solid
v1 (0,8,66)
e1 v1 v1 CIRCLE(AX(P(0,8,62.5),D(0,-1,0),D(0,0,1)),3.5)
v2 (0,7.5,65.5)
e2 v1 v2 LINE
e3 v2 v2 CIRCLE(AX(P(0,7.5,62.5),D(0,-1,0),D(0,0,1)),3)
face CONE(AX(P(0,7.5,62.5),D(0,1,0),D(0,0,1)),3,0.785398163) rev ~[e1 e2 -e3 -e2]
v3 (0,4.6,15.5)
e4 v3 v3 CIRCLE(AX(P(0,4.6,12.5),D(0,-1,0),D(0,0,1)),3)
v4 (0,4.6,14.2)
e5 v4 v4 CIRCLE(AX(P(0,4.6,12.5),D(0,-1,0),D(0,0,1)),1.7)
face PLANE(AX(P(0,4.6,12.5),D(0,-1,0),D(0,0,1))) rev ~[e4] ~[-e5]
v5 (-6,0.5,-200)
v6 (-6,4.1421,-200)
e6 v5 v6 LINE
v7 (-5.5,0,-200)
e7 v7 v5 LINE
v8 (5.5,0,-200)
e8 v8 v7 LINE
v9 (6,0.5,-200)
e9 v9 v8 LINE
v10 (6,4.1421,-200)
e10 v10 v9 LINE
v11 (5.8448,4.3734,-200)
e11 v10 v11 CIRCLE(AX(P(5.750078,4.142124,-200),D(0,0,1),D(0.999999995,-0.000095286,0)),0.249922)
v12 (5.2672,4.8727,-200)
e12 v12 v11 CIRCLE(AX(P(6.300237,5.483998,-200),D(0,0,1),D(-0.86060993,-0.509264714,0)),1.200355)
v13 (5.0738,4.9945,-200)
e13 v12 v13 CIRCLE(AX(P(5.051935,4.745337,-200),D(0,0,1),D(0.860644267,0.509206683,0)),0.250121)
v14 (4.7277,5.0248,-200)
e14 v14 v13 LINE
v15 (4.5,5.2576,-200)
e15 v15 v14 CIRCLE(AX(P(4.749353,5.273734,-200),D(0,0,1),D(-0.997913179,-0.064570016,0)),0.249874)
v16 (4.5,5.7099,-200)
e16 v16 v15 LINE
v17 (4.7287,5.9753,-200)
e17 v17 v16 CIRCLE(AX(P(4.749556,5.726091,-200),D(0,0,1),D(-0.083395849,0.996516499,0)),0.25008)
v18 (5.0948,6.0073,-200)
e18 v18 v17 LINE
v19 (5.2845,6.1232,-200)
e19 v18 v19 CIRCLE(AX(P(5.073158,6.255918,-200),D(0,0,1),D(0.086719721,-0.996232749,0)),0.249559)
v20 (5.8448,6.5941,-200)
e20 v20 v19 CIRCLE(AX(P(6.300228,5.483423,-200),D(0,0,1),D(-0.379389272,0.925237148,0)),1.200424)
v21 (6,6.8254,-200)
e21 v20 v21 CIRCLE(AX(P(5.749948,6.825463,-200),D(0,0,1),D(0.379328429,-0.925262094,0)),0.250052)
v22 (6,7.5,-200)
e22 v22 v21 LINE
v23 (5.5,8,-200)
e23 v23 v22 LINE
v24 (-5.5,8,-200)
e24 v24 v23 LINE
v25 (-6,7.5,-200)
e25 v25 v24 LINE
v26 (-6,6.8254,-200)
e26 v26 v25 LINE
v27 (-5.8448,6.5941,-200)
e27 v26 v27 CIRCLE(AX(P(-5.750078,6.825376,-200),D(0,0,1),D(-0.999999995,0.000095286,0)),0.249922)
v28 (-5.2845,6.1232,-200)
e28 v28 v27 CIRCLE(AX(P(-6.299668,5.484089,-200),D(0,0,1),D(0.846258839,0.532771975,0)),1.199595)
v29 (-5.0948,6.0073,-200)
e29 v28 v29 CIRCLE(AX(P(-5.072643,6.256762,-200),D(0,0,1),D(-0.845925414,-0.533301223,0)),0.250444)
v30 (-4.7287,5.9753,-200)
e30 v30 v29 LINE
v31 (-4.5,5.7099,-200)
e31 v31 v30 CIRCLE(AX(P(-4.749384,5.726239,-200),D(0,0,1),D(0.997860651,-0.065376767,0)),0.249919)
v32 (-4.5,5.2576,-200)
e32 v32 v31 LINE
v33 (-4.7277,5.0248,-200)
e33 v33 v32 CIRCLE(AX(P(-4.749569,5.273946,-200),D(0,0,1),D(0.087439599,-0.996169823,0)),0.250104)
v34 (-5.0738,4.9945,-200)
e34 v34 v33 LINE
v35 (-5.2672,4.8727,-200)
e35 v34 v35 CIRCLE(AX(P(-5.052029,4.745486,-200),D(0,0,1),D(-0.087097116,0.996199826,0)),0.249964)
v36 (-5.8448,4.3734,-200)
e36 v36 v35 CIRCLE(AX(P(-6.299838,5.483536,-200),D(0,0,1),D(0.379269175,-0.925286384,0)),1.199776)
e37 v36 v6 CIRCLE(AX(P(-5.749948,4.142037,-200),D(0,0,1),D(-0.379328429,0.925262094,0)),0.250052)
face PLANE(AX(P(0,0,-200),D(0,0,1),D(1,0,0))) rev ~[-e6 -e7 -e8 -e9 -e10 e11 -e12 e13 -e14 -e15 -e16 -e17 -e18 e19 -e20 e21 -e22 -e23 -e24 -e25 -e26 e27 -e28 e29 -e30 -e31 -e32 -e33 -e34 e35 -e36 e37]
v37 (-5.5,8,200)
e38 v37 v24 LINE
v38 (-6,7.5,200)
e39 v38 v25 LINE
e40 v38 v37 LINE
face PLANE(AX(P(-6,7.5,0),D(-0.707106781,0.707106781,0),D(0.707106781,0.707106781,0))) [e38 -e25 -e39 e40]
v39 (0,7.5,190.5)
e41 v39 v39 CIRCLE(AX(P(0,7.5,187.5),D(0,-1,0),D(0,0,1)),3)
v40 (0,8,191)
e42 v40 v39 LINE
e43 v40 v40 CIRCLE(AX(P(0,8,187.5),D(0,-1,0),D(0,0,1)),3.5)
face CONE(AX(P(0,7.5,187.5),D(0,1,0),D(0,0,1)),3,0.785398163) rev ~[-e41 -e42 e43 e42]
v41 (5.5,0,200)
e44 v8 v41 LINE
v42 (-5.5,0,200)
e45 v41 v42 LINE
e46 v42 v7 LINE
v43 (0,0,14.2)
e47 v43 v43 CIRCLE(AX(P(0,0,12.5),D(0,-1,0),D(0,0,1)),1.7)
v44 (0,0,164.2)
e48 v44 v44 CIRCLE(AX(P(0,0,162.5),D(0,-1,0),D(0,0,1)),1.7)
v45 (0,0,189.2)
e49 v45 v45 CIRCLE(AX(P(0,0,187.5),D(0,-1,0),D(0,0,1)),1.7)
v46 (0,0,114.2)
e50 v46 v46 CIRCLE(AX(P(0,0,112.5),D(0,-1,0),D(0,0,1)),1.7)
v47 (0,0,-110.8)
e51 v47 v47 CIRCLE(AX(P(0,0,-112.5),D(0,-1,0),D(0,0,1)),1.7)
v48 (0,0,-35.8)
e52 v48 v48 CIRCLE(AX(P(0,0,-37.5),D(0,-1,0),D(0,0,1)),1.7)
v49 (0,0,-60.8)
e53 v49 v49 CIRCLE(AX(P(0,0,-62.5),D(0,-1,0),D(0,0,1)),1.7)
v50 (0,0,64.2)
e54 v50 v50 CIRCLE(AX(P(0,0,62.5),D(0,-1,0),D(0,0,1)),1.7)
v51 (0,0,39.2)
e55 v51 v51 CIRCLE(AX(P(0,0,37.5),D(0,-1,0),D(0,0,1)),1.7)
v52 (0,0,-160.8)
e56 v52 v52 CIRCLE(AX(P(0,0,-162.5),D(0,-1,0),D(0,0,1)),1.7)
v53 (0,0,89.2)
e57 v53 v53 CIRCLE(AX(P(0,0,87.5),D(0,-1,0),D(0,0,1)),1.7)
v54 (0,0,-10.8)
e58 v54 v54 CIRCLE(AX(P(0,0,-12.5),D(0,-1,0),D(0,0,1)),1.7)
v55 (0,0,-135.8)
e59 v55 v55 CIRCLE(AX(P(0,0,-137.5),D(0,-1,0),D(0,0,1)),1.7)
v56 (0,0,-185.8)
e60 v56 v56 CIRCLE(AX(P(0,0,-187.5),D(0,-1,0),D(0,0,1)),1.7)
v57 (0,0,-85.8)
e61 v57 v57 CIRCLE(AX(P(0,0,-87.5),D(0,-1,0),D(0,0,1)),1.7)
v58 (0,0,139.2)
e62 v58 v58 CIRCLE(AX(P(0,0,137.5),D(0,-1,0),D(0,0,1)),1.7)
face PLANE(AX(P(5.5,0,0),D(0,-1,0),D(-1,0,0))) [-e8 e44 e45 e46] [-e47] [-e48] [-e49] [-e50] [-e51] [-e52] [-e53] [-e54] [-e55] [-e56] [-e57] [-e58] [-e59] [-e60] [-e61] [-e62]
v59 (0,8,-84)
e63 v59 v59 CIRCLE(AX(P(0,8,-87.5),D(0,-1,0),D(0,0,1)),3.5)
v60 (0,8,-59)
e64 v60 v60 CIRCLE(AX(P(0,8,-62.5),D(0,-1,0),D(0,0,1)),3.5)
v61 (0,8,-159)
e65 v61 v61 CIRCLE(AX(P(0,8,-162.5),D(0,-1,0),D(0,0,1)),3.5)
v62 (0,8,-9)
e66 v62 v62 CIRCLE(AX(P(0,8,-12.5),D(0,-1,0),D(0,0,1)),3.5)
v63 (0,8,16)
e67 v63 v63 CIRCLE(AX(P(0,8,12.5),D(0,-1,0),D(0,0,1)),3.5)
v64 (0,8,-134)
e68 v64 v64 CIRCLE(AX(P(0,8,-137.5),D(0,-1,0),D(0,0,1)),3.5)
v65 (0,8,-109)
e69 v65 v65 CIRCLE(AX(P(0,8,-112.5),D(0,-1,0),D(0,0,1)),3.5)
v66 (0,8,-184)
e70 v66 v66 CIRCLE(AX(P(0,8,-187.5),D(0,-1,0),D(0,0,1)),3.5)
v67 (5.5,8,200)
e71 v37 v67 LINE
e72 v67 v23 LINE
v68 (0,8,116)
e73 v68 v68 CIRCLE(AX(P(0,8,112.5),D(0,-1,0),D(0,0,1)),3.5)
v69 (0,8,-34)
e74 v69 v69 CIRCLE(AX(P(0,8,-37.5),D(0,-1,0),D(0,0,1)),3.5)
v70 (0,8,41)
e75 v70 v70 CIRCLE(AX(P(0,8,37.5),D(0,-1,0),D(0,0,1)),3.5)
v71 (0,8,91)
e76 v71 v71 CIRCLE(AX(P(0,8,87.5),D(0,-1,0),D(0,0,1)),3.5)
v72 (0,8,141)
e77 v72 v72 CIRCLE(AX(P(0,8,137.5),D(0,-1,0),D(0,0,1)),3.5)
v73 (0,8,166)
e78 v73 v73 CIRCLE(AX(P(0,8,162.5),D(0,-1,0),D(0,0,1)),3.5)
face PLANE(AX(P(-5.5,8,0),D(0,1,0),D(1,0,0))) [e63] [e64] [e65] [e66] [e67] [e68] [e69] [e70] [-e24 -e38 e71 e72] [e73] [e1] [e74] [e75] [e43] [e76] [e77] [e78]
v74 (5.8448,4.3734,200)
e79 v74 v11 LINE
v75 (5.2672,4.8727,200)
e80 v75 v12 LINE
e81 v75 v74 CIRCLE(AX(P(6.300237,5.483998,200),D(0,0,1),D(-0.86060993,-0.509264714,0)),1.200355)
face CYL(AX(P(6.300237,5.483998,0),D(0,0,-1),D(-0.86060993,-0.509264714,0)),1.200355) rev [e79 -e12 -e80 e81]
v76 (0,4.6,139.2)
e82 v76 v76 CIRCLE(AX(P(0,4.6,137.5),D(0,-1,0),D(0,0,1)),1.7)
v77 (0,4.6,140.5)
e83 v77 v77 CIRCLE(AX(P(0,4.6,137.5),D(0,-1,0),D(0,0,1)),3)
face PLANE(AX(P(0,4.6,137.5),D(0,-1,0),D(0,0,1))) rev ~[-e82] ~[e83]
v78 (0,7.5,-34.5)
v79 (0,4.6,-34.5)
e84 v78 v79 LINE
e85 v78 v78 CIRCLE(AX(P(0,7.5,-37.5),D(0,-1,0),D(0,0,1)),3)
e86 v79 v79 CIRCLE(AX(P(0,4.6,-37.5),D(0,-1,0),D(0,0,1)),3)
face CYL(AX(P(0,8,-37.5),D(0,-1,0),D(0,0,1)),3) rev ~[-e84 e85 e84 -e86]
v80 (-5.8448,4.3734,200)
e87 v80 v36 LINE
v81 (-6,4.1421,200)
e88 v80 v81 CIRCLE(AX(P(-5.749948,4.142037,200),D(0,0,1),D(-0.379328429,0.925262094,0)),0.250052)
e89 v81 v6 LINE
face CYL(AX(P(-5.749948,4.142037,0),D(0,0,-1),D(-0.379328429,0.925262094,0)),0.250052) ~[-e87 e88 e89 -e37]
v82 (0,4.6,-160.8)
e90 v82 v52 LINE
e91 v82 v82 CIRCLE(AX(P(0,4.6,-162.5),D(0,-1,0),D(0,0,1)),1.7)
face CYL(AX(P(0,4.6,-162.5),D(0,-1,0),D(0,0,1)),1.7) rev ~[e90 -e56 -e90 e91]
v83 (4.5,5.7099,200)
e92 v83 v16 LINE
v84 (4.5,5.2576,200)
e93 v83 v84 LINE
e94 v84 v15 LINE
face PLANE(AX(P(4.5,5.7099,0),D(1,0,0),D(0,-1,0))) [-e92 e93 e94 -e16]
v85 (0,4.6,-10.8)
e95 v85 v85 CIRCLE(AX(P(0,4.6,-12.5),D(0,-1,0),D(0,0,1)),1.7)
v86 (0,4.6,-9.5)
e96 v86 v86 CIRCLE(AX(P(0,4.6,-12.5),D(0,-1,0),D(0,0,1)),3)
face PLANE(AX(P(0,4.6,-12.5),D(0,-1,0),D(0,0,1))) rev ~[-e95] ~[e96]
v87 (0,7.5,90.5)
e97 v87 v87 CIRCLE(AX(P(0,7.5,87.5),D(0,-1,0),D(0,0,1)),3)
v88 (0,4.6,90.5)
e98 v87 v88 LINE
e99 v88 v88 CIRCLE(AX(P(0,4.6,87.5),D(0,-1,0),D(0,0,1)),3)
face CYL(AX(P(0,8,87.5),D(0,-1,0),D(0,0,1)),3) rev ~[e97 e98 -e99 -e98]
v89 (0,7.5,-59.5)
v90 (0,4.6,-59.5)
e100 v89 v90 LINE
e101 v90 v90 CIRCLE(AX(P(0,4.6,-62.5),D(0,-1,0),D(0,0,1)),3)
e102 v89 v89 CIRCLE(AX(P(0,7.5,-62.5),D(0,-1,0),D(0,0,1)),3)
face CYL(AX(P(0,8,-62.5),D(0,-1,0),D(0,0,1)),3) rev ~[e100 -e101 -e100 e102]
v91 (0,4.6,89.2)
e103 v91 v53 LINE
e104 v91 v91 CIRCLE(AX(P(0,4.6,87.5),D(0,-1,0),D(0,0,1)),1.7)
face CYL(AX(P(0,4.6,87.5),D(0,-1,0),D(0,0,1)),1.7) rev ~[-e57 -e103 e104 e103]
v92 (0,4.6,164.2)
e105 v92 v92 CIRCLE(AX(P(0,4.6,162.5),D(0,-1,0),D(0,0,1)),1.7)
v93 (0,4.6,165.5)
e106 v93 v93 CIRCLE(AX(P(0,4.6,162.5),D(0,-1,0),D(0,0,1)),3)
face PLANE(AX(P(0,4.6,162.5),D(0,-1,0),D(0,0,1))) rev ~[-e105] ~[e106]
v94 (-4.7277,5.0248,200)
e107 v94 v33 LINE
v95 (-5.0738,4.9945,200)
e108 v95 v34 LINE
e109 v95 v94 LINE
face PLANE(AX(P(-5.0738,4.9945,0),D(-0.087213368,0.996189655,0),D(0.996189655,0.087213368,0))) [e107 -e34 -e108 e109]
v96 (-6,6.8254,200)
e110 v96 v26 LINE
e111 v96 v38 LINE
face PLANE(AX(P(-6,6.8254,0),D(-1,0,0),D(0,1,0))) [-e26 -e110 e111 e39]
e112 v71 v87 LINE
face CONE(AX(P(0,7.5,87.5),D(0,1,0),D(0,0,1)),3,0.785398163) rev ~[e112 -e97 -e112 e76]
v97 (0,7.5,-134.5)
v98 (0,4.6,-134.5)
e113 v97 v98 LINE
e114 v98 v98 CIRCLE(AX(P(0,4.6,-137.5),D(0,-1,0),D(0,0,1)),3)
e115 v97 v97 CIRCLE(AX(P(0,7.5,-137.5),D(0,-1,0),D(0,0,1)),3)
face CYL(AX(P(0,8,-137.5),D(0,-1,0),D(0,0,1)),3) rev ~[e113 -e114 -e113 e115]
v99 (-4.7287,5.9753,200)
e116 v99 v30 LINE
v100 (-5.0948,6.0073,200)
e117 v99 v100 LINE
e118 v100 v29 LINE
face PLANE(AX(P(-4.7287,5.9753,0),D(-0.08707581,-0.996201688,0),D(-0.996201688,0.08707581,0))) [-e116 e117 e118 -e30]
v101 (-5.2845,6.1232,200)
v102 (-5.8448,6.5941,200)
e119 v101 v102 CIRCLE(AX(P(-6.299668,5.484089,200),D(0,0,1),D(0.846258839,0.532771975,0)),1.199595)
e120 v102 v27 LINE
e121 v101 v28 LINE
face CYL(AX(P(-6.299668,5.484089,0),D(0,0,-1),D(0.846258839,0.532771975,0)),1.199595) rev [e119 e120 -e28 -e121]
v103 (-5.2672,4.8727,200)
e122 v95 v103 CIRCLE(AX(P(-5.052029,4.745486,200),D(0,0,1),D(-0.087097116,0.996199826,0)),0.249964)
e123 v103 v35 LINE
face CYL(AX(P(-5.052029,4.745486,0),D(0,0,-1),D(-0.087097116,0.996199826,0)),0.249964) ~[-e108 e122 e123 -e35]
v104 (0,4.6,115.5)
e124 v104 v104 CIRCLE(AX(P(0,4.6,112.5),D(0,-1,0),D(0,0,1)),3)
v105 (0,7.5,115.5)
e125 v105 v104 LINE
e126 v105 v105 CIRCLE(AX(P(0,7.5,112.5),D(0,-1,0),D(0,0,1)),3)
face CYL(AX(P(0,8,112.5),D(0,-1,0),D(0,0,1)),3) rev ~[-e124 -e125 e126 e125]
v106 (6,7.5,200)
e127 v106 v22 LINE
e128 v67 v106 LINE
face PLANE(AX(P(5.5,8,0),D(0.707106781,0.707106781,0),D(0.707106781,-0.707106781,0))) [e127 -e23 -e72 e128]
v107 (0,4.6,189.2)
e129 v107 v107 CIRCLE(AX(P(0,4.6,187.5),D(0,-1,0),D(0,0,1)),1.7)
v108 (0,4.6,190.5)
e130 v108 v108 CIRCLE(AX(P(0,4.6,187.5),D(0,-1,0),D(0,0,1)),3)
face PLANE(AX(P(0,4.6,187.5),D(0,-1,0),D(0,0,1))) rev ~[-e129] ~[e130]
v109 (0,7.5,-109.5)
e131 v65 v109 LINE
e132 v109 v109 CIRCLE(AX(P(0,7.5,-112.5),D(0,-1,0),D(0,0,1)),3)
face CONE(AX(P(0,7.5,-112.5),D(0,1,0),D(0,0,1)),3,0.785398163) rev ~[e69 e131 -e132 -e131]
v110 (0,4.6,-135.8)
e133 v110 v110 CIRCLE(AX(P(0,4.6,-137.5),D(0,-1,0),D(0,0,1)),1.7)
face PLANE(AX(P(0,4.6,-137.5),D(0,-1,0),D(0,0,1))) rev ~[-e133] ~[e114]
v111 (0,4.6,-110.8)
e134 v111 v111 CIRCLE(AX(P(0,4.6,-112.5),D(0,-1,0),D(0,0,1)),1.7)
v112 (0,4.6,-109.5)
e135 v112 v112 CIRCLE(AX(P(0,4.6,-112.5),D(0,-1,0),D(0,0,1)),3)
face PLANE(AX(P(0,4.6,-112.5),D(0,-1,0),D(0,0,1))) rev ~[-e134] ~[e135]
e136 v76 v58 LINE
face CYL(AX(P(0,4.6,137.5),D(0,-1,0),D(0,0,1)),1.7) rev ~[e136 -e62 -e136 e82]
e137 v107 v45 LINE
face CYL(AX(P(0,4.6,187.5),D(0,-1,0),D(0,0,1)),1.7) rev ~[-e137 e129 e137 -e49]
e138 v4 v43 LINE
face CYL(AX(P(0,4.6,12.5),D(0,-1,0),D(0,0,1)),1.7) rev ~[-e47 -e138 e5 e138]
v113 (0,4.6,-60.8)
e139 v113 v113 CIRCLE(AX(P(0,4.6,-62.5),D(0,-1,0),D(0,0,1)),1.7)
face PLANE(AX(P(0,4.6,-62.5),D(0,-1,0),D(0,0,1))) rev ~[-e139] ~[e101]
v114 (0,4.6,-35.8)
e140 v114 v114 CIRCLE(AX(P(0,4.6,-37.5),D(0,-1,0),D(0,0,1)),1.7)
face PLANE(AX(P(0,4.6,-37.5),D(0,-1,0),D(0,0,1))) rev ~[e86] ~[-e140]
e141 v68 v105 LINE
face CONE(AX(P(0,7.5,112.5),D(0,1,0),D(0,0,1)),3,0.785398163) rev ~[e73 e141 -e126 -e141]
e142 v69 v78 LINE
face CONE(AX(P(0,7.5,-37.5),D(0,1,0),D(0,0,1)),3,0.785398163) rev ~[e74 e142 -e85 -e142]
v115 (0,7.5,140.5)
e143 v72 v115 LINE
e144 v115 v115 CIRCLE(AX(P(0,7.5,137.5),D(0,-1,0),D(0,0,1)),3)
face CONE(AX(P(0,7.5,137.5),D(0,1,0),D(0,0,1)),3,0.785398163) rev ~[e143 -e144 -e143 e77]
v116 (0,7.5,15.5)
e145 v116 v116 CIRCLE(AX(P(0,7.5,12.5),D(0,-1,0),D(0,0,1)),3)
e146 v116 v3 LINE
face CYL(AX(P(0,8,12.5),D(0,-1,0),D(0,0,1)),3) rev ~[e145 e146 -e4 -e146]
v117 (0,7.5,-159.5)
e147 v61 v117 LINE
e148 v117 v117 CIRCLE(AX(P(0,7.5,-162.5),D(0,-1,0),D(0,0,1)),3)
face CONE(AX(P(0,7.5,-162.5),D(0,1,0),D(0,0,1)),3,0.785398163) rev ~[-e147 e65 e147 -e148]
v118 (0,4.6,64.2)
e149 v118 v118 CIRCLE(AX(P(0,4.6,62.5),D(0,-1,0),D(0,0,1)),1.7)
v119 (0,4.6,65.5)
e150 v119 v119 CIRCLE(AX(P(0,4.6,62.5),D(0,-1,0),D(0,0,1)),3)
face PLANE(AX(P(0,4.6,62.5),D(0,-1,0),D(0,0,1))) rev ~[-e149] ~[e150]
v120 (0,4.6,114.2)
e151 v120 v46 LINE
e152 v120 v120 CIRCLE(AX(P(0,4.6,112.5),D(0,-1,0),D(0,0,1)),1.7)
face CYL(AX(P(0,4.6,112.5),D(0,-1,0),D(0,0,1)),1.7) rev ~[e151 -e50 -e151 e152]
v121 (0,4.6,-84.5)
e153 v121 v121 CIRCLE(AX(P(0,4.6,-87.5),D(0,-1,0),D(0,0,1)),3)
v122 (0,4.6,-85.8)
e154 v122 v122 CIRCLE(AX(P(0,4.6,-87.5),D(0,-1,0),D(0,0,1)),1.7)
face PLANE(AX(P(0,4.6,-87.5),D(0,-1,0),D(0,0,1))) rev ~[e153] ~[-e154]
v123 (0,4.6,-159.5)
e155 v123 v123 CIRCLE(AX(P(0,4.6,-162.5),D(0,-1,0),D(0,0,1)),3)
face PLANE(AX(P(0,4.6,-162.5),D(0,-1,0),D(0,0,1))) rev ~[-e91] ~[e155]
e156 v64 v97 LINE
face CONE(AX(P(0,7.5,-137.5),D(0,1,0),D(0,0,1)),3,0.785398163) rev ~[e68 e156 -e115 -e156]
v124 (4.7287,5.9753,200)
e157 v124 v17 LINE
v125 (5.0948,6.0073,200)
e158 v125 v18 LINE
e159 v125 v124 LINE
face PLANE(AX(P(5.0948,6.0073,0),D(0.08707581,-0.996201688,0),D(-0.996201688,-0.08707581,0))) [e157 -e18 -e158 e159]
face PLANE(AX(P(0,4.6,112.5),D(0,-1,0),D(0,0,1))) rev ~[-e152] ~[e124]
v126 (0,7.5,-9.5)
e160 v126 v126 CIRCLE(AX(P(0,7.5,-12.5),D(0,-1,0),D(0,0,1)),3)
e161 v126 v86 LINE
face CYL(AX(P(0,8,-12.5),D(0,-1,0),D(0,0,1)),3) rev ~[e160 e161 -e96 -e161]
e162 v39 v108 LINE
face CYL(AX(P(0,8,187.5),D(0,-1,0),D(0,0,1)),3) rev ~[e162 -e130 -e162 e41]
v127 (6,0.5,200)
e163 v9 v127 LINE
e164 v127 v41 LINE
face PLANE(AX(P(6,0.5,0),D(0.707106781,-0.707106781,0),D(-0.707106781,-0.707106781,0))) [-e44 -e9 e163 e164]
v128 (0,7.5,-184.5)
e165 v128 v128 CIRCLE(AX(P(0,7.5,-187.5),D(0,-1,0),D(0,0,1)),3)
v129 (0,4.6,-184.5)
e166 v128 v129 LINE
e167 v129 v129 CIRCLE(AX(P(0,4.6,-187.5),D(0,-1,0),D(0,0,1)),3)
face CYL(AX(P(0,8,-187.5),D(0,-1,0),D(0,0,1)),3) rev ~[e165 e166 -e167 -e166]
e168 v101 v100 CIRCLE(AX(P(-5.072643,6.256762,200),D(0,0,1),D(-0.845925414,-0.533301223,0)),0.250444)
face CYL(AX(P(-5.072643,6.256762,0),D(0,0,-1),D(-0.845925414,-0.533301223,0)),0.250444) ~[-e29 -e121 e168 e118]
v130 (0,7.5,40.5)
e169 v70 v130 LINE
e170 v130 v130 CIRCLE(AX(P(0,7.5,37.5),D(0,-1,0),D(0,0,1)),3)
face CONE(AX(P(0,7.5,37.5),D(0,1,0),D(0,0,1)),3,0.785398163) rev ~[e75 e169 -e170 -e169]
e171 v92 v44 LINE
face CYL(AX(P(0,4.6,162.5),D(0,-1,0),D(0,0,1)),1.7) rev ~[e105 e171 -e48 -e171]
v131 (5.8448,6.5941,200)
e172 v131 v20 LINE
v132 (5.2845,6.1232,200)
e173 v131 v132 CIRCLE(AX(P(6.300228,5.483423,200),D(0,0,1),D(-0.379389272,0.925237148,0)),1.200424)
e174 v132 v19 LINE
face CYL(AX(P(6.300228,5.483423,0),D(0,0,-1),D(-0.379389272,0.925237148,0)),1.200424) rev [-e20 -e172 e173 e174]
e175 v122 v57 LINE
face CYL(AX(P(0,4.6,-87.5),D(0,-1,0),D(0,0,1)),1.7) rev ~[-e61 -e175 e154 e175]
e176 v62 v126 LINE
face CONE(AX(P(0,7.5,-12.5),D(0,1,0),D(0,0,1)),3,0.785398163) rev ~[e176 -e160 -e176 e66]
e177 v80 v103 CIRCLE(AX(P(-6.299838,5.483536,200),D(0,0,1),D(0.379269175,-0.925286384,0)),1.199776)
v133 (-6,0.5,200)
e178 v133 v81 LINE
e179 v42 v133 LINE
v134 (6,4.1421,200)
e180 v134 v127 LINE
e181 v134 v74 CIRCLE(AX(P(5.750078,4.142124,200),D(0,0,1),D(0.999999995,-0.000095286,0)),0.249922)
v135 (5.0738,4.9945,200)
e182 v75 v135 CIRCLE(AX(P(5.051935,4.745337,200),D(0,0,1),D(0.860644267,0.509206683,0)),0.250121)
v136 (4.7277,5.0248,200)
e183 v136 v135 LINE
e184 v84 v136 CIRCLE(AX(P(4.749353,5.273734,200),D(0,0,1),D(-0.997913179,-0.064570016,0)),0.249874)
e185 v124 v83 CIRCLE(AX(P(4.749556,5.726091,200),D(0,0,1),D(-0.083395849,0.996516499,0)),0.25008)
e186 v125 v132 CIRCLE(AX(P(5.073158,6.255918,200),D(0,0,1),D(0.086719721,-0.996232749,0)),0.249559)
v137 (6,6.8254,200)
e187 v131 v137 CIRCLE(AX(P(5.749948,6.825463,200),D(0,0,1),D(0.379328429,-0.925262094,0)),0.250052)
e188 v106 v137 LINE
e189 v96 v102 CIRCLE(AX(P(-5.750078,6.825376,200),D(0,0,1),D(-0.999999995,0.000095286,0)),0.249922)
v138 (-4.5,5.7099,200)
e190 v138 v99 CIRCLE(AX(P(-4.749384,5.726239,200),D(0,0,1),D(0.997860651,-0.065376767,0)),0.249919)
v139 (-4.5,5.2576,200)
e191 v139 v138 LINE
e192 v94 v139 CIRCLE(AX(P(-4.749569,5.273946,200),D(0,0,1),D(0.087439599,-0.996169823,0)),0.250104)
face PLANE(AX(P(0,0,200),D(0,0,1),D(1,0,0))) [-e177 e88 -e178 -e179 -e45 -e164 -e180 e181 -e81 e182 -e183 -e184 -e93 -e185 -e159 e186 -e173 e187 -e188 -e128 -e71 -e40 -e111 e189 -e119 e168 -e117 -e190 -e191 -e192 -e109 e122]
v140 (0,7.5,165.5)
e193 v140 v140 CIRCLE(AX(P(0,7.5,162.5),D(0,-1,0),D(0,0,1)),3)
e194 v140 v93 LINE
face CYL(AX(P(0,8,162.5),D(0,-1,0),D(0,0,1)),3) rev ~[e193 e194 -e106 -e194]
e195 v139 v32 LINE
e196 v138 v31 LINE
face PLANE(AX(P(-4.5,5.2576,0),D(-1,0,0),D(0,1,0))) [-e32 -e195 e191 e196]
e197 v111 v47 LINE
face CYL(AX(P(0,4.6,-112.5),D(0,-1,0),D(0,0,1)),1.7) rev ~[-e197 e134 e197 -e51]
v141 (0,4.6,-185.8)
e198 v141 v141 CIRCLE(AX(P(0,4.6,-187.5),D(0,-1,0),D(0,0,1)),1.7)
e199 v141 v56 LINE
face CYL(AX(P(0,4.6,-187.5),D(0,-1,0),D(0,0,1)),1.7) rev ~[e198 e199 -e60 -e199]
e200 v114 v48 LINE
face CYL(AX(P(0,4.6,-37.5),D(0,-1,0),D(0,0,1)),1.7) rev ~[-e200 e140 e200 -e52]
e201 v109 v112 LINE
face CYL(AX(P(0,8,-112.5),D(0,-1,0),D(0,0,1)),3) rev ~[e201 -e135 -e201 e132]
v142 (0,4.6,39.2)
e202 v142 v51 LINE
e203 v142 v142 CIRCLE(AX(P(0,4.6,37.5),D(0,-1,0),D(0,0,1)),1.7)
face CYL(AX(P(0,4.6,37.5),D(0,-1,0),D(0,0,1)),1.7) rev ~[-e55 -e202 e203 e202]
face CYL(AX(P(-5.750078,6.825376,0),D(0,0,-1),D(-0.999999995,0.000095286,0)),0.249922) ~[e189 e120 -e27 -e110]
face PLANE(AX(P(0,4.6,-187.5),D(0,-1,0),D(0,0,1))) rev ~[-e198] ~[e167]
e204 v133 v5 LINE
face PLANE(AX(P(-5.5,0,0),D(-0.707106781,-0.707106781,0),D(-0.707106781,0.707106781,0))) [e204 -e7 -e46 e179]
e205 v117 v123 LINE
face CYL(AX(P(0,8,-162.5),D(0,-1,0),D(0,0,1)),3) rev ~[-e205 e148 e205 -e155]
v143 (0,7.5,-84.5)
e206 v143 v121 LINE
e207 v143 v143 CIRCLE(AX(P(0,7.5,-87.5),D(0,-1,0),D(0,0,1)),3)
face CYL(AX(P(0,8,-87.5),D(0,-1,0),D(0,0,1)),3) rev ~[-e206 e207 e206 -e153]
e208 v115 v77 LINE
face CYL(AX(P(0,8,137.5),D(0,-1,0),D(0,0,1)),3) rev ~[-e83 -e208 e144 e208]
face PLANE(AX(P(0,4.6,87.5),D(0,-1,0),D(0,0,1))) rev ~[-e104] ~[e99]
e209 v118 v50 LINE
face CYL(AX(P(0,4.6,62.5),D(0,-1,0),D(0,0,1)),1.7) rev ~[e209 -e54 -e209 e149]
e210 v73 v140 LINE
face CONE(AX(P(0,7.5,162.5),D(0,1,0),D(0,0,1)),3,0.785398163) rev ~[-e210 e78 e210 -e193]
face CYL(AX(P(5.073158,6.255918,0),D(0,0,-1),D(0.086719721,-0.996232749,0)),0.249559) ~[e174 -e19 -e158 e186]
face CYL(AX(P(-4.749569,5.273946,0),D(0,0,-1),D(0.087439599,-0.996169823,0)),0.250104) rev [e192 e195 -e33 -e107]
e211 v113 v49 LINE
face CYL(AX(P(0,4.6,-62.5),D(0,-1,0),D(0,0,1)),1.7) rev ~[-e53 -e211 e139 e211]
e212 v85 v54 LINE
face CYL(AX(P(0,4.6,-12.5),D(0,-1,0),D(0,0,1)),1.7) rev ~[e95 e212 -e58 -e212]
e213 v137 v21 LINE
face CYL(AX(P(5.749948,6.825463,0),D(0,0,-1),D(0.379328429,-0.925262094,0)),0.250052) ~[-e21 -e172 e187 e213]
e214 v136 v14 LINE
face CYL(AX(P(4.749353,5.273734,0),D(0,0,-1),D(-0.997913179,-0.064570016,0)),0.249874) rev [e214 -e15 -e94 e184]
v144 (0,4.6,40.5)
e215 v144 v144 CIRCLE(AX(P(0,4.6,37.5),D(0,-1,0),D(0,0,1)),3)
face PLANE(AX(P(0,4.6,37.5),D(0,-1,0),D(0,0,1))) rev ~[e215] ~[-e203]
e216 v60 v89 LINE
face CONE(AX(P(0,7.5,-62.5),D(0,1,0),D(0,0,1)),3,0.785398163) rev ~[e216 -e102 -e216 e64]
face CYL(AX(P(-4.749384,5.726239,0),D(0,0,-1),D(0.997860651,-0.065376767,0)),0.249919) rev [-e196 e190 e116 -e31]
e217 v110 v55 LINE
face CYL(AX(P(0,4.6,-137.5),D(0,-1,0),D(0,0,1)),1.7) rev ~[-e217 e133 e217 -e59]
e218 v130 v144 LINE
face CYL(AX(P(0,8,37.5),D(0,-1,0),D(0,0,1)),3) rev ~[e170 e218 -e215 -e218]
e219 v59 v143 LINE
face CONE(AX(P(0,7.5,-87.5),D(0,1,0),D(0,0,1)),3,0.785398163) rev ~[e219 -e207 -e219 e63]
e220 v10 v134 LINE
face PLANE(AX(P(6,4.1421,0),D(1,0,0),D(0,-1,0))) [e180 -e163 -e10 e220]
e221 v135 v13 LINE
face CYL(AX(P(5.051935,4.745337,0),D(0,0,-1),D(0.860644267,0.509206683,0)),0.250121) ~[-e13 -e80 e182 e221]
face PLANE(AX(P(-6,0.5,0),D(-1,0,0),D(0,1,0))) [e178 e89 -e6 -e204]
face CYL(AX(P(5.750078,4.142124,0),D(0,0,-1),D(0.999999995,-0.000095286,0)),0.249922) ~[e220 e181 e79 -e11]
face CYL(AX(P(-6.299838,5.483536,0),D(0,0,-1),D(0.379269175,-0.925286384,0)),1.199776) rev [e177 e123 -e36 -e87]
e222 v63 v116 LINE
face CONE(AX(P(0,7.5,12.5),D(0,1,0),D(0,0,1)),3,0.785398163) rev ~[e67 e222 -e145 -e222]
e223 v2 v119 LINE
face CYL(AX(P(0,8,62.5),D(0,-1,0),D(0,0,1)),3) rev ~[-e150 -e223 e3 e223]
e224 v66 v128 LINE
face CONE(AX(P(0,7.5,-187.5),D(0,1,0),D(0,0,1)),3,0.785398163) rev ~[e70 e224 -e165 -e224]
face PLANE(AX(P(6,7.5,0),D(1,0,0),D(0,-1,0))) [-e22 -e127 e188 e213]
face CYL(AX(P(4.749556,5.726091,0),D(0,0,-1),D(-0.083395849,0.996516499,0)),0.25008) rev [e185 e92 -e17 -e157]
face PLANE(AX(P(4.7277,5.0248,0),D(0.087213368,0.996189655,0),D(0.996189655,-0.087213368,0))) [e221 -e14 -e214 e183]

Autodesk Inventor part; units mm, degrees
ref_plane "YZ Plane" through (0, 0, 0) normal (1, 0, 0) x (0, 1, 0)
ref_plane "XZ Plane" through (0, 0, 0) normal (0, 1, 0) x (-1, 0, 0)
ref_plane "XY Plane" through (0, 0, 0) normal (0, 0, 1) x (1, 0, 0)
sketch "Skizze1" plane through (0, 0, 0) normal (0, 0, 1) x (1, 0, 0)
  line L0 (5.5, 0) -> (-5.5, 0)
  line L1 (6, 0.5) -> (5.5, 0)
  line L2 (6, 4.1421) -> (6, 0.5)
  arc A0 (6, 4.1421) -> (5.8448, 4.3734) centre (5.75, 4.1421) ccw
  arc A1 (5.2672, 4.8727) -> (5.8448, 4.3734) centre (6.3, 5.4838) ccw
  arc A2 (5.2672, 4.8727) -> (5.0738, 4.9945) centre (5.052, 4.7454) ccw
  line L3 (4.7277, 5.0248) -> (5.0738, 4.9945)
  arc A3 (4.5, 5.2576) -> (4.7277, 5.0248) centre (4.7495, 5.2738) ccw
  line L4 (4.5, 5.7099) -> (4.5, 5.2576)
  arc A4 (4.7287, 5.9753) -> (4.5, 5.7099) centre (4.7495, 5.7262) ccw
  line L5 (5.0948, 6.0073) -> (4.7287, 5.9753)
  arc A5 (5.0948, 6.0073) -> (5.2845, 6.1232) centre (5.073, 6.2564) ccw
  arc A6 (5.8448, 6.5941) -> (5.2845, 6.1232) centre (6.3, 5.4838) ccw
  arc A7 (5.8448, 6.5941) -> (6, 6.8254) centre (5.75, 6.8254) ccw
  line L6 (6, 7.5) -> (6, 6.8254)
  line L7 (5.5, 8) -> (6, 7.5)
  line L8 (-5.5, 8) -> (5.5, 8)
  line L9 (-6, 7.5) -> (-5.5, 8)
  line L10 (-6, 6.8254) -> (-6, 7.5)
  arc A8 (-6, 6.8254) -> (-5.8448, 6.5941) centre (-5.75, 6.8254) ccw
  arc A9 (-5.2845, 6.1232) -> (-5.8448, 6.5941) centre (-6.3, 5.4838) ccw
  arc A10 (-5.2845, 6.1232) -> (-5.0948, 6.0073) centre (-5.073, 6.2564) ccw
  line L11 (-4.7287, 5.9753) -> (-5.0948, 6.0073)
  arc A11 (-4.5, 5.7099) -> (-4.7287, 5.9753) centre (-4.7495, 5.7262) ccw
  line L12 (-4.5, 5.2576) -> (-4.5, 5.7099)
  arc A12 (-4.7277, 5.0248) -> (-4.5, 5.2576) centre (-4.7495, 5.2738) ccw
  line L13 (-5.0738, 4.9945) -> (-4.7277, 5.0248)
  arc A13 (-5.0738, 4.9945) -> (-5.2672, 4.8727) centre (-5.052, 4.7454) ccw
  arc A14 (-5.8448, 4.3734) -> (-5.2672, 4.8727) centre (-6.3, 5.4838) ccw
  arc A15 (-5.8448, 4.3734) -> (-6, 4.1421) centre (-5.75, 4.1421) ccw
  line L14 (-6, 0.5) -> (-6, 4.1421)
  line L15 (-5.5, 0) -> (-6, 0.5)
  line L16 (-10.5, 0) -> (10.5, 0) construction
  line L17 (0, -1.6) -> (0, 9.6) construction
  circle A16 centre (-6.3, 5.4838) radius 1.2 construction
  circle A17 centre (6.3, 5.4838) radius 1.2 construction
  line L18 (-4.7287, 5.9753) -> (-5.2259, 6.0188) construction
  line L19 (-4.7277, 5.0248) -> (-5.2097, 4.9826) construction
  point P0 (0, 0)
  point P1 (0, 0)
  point P2 (10.5, 0)
  point P3 (0, -1.6)
  point P4 (0, 8)
  point P5 (-4.9008, 5.0096)
  point P6 (-4.9118, 5.9913)
  point P7 (-4.5, 5.4838)
  dimension "d0" = 8
  dimension "d1" = 12
  dimension "d3" = 1.2
  dimension "d4" = 0.25
  dimension "d5" = 0.25
  dimension "d6" = 0.25
  dimension "d7" = 0.25
  dimension "d8" = 1.2
  dimension "d10" = 9
  dimension "d11" = 0.5
  dimension "d12" = 0.5
  dimension "d13" = 0.5
  dimension "d14" = 0.5
  dimension "d16" = 5.4838
  dimension "d17" = 12.6
  dimension "d18" = 10
  dimension "d21" = 0.9817
  dimension "d24" = 0.4523
  dimension "d25" = 1.5109
  dimension "d26" = 0.948
  dimension "d27" = 1.2505
  dimension "d28" = 0.25
extrude "Extrusion1" add sketch "Skizze1" along normal mid plane 400
sketch "Skizze2" plane through (-5.5, 8, 200) normal (0, 1, 0) x (1, 0, 0)
  line L0 (0, 400) -> (0, 0) projected
  line L1 (11, 0) -> (0, 0) projected
  line L2 (11, 400) -> (11, 0) projected
  line L3 (0, 400) -> (11, 400) projected
  line L4 (0, 0) -> (11, 0) projected
  line L5 (5.5, 0) -> (5.5, 400) construction
  line L6 (0, 400) -> (11, 400) projected
  point P0 (5.5, 200)
  point P1 (5.5, 12.5)
  point P2 (5.5, 37.5)
  point P3 (5.5, 62.5)
  point P4 (5.5, 87.5)
  point P5 (5.5, 112.5)
  point P6 (5.5, 137.5)
  point P7 (5.5, 162.5)
  point P8 (5.5, 187.5)
  point P9 (5.5, 212.5)
  point P10 (5.5, 237.5)
  point P11 (5.5, 262.5)
  point P12 (5.5, 287.5)
  point P13 (5.5, 312.5)
  point P14 (5.5, 337.5)
  point P15 (5.5, 362.5)
  point P16 (5.5, 387.5)
  dimension "d31" = 12.5
  dimension "d34" = 25
hole "Bohrung1" at (0, 8, 187.5) at (0, 8, 162.5) at (0, 8, 137.5) at (0, 8, 112.5) at (0, 8, 87.5) at (0, 8, 62.5) at (0, 8, 37.5) at (0, 8, 12.5) at (0, 8, -12.5) at (0, 8, -37.5) at (0, 8, -62.5) at (0, 8, -87.5) at (0, 8, -112.5) at (0, 8, -137.5) at (0, 8, -162.5) at (0, 8, -187.5) direction (0, -1, 0) diameter 3.4 end through all counterbore diameter 6 counterbore depth 3.4 clearance for "Inbusschraube DIN EN ISO 4762" size "M3" standard "DIN"
chamfer "Fase1" distance 0.5 angle 45 16 edges at (0, 8, 184.5) (0, 8, 159.5) (0, 8, 134.5) (0, 8, 109.5) (0, 8, 84.5) (0, 8, 59.5) (0, 8, 34.5) (0, 8, 9.5) (0, 8, -15.5) (0, 8, -40.5) (0, 8, -65.5) (0, 8, -90.5) (0, 8, -115.5) (0, 8, -140.5) (0, 8, -165.5) (0, 8, -190.5)
properties part number "MGN12H Linear-Rail (400mm)" material "Stahl, hochfest, niedrig legiert"
